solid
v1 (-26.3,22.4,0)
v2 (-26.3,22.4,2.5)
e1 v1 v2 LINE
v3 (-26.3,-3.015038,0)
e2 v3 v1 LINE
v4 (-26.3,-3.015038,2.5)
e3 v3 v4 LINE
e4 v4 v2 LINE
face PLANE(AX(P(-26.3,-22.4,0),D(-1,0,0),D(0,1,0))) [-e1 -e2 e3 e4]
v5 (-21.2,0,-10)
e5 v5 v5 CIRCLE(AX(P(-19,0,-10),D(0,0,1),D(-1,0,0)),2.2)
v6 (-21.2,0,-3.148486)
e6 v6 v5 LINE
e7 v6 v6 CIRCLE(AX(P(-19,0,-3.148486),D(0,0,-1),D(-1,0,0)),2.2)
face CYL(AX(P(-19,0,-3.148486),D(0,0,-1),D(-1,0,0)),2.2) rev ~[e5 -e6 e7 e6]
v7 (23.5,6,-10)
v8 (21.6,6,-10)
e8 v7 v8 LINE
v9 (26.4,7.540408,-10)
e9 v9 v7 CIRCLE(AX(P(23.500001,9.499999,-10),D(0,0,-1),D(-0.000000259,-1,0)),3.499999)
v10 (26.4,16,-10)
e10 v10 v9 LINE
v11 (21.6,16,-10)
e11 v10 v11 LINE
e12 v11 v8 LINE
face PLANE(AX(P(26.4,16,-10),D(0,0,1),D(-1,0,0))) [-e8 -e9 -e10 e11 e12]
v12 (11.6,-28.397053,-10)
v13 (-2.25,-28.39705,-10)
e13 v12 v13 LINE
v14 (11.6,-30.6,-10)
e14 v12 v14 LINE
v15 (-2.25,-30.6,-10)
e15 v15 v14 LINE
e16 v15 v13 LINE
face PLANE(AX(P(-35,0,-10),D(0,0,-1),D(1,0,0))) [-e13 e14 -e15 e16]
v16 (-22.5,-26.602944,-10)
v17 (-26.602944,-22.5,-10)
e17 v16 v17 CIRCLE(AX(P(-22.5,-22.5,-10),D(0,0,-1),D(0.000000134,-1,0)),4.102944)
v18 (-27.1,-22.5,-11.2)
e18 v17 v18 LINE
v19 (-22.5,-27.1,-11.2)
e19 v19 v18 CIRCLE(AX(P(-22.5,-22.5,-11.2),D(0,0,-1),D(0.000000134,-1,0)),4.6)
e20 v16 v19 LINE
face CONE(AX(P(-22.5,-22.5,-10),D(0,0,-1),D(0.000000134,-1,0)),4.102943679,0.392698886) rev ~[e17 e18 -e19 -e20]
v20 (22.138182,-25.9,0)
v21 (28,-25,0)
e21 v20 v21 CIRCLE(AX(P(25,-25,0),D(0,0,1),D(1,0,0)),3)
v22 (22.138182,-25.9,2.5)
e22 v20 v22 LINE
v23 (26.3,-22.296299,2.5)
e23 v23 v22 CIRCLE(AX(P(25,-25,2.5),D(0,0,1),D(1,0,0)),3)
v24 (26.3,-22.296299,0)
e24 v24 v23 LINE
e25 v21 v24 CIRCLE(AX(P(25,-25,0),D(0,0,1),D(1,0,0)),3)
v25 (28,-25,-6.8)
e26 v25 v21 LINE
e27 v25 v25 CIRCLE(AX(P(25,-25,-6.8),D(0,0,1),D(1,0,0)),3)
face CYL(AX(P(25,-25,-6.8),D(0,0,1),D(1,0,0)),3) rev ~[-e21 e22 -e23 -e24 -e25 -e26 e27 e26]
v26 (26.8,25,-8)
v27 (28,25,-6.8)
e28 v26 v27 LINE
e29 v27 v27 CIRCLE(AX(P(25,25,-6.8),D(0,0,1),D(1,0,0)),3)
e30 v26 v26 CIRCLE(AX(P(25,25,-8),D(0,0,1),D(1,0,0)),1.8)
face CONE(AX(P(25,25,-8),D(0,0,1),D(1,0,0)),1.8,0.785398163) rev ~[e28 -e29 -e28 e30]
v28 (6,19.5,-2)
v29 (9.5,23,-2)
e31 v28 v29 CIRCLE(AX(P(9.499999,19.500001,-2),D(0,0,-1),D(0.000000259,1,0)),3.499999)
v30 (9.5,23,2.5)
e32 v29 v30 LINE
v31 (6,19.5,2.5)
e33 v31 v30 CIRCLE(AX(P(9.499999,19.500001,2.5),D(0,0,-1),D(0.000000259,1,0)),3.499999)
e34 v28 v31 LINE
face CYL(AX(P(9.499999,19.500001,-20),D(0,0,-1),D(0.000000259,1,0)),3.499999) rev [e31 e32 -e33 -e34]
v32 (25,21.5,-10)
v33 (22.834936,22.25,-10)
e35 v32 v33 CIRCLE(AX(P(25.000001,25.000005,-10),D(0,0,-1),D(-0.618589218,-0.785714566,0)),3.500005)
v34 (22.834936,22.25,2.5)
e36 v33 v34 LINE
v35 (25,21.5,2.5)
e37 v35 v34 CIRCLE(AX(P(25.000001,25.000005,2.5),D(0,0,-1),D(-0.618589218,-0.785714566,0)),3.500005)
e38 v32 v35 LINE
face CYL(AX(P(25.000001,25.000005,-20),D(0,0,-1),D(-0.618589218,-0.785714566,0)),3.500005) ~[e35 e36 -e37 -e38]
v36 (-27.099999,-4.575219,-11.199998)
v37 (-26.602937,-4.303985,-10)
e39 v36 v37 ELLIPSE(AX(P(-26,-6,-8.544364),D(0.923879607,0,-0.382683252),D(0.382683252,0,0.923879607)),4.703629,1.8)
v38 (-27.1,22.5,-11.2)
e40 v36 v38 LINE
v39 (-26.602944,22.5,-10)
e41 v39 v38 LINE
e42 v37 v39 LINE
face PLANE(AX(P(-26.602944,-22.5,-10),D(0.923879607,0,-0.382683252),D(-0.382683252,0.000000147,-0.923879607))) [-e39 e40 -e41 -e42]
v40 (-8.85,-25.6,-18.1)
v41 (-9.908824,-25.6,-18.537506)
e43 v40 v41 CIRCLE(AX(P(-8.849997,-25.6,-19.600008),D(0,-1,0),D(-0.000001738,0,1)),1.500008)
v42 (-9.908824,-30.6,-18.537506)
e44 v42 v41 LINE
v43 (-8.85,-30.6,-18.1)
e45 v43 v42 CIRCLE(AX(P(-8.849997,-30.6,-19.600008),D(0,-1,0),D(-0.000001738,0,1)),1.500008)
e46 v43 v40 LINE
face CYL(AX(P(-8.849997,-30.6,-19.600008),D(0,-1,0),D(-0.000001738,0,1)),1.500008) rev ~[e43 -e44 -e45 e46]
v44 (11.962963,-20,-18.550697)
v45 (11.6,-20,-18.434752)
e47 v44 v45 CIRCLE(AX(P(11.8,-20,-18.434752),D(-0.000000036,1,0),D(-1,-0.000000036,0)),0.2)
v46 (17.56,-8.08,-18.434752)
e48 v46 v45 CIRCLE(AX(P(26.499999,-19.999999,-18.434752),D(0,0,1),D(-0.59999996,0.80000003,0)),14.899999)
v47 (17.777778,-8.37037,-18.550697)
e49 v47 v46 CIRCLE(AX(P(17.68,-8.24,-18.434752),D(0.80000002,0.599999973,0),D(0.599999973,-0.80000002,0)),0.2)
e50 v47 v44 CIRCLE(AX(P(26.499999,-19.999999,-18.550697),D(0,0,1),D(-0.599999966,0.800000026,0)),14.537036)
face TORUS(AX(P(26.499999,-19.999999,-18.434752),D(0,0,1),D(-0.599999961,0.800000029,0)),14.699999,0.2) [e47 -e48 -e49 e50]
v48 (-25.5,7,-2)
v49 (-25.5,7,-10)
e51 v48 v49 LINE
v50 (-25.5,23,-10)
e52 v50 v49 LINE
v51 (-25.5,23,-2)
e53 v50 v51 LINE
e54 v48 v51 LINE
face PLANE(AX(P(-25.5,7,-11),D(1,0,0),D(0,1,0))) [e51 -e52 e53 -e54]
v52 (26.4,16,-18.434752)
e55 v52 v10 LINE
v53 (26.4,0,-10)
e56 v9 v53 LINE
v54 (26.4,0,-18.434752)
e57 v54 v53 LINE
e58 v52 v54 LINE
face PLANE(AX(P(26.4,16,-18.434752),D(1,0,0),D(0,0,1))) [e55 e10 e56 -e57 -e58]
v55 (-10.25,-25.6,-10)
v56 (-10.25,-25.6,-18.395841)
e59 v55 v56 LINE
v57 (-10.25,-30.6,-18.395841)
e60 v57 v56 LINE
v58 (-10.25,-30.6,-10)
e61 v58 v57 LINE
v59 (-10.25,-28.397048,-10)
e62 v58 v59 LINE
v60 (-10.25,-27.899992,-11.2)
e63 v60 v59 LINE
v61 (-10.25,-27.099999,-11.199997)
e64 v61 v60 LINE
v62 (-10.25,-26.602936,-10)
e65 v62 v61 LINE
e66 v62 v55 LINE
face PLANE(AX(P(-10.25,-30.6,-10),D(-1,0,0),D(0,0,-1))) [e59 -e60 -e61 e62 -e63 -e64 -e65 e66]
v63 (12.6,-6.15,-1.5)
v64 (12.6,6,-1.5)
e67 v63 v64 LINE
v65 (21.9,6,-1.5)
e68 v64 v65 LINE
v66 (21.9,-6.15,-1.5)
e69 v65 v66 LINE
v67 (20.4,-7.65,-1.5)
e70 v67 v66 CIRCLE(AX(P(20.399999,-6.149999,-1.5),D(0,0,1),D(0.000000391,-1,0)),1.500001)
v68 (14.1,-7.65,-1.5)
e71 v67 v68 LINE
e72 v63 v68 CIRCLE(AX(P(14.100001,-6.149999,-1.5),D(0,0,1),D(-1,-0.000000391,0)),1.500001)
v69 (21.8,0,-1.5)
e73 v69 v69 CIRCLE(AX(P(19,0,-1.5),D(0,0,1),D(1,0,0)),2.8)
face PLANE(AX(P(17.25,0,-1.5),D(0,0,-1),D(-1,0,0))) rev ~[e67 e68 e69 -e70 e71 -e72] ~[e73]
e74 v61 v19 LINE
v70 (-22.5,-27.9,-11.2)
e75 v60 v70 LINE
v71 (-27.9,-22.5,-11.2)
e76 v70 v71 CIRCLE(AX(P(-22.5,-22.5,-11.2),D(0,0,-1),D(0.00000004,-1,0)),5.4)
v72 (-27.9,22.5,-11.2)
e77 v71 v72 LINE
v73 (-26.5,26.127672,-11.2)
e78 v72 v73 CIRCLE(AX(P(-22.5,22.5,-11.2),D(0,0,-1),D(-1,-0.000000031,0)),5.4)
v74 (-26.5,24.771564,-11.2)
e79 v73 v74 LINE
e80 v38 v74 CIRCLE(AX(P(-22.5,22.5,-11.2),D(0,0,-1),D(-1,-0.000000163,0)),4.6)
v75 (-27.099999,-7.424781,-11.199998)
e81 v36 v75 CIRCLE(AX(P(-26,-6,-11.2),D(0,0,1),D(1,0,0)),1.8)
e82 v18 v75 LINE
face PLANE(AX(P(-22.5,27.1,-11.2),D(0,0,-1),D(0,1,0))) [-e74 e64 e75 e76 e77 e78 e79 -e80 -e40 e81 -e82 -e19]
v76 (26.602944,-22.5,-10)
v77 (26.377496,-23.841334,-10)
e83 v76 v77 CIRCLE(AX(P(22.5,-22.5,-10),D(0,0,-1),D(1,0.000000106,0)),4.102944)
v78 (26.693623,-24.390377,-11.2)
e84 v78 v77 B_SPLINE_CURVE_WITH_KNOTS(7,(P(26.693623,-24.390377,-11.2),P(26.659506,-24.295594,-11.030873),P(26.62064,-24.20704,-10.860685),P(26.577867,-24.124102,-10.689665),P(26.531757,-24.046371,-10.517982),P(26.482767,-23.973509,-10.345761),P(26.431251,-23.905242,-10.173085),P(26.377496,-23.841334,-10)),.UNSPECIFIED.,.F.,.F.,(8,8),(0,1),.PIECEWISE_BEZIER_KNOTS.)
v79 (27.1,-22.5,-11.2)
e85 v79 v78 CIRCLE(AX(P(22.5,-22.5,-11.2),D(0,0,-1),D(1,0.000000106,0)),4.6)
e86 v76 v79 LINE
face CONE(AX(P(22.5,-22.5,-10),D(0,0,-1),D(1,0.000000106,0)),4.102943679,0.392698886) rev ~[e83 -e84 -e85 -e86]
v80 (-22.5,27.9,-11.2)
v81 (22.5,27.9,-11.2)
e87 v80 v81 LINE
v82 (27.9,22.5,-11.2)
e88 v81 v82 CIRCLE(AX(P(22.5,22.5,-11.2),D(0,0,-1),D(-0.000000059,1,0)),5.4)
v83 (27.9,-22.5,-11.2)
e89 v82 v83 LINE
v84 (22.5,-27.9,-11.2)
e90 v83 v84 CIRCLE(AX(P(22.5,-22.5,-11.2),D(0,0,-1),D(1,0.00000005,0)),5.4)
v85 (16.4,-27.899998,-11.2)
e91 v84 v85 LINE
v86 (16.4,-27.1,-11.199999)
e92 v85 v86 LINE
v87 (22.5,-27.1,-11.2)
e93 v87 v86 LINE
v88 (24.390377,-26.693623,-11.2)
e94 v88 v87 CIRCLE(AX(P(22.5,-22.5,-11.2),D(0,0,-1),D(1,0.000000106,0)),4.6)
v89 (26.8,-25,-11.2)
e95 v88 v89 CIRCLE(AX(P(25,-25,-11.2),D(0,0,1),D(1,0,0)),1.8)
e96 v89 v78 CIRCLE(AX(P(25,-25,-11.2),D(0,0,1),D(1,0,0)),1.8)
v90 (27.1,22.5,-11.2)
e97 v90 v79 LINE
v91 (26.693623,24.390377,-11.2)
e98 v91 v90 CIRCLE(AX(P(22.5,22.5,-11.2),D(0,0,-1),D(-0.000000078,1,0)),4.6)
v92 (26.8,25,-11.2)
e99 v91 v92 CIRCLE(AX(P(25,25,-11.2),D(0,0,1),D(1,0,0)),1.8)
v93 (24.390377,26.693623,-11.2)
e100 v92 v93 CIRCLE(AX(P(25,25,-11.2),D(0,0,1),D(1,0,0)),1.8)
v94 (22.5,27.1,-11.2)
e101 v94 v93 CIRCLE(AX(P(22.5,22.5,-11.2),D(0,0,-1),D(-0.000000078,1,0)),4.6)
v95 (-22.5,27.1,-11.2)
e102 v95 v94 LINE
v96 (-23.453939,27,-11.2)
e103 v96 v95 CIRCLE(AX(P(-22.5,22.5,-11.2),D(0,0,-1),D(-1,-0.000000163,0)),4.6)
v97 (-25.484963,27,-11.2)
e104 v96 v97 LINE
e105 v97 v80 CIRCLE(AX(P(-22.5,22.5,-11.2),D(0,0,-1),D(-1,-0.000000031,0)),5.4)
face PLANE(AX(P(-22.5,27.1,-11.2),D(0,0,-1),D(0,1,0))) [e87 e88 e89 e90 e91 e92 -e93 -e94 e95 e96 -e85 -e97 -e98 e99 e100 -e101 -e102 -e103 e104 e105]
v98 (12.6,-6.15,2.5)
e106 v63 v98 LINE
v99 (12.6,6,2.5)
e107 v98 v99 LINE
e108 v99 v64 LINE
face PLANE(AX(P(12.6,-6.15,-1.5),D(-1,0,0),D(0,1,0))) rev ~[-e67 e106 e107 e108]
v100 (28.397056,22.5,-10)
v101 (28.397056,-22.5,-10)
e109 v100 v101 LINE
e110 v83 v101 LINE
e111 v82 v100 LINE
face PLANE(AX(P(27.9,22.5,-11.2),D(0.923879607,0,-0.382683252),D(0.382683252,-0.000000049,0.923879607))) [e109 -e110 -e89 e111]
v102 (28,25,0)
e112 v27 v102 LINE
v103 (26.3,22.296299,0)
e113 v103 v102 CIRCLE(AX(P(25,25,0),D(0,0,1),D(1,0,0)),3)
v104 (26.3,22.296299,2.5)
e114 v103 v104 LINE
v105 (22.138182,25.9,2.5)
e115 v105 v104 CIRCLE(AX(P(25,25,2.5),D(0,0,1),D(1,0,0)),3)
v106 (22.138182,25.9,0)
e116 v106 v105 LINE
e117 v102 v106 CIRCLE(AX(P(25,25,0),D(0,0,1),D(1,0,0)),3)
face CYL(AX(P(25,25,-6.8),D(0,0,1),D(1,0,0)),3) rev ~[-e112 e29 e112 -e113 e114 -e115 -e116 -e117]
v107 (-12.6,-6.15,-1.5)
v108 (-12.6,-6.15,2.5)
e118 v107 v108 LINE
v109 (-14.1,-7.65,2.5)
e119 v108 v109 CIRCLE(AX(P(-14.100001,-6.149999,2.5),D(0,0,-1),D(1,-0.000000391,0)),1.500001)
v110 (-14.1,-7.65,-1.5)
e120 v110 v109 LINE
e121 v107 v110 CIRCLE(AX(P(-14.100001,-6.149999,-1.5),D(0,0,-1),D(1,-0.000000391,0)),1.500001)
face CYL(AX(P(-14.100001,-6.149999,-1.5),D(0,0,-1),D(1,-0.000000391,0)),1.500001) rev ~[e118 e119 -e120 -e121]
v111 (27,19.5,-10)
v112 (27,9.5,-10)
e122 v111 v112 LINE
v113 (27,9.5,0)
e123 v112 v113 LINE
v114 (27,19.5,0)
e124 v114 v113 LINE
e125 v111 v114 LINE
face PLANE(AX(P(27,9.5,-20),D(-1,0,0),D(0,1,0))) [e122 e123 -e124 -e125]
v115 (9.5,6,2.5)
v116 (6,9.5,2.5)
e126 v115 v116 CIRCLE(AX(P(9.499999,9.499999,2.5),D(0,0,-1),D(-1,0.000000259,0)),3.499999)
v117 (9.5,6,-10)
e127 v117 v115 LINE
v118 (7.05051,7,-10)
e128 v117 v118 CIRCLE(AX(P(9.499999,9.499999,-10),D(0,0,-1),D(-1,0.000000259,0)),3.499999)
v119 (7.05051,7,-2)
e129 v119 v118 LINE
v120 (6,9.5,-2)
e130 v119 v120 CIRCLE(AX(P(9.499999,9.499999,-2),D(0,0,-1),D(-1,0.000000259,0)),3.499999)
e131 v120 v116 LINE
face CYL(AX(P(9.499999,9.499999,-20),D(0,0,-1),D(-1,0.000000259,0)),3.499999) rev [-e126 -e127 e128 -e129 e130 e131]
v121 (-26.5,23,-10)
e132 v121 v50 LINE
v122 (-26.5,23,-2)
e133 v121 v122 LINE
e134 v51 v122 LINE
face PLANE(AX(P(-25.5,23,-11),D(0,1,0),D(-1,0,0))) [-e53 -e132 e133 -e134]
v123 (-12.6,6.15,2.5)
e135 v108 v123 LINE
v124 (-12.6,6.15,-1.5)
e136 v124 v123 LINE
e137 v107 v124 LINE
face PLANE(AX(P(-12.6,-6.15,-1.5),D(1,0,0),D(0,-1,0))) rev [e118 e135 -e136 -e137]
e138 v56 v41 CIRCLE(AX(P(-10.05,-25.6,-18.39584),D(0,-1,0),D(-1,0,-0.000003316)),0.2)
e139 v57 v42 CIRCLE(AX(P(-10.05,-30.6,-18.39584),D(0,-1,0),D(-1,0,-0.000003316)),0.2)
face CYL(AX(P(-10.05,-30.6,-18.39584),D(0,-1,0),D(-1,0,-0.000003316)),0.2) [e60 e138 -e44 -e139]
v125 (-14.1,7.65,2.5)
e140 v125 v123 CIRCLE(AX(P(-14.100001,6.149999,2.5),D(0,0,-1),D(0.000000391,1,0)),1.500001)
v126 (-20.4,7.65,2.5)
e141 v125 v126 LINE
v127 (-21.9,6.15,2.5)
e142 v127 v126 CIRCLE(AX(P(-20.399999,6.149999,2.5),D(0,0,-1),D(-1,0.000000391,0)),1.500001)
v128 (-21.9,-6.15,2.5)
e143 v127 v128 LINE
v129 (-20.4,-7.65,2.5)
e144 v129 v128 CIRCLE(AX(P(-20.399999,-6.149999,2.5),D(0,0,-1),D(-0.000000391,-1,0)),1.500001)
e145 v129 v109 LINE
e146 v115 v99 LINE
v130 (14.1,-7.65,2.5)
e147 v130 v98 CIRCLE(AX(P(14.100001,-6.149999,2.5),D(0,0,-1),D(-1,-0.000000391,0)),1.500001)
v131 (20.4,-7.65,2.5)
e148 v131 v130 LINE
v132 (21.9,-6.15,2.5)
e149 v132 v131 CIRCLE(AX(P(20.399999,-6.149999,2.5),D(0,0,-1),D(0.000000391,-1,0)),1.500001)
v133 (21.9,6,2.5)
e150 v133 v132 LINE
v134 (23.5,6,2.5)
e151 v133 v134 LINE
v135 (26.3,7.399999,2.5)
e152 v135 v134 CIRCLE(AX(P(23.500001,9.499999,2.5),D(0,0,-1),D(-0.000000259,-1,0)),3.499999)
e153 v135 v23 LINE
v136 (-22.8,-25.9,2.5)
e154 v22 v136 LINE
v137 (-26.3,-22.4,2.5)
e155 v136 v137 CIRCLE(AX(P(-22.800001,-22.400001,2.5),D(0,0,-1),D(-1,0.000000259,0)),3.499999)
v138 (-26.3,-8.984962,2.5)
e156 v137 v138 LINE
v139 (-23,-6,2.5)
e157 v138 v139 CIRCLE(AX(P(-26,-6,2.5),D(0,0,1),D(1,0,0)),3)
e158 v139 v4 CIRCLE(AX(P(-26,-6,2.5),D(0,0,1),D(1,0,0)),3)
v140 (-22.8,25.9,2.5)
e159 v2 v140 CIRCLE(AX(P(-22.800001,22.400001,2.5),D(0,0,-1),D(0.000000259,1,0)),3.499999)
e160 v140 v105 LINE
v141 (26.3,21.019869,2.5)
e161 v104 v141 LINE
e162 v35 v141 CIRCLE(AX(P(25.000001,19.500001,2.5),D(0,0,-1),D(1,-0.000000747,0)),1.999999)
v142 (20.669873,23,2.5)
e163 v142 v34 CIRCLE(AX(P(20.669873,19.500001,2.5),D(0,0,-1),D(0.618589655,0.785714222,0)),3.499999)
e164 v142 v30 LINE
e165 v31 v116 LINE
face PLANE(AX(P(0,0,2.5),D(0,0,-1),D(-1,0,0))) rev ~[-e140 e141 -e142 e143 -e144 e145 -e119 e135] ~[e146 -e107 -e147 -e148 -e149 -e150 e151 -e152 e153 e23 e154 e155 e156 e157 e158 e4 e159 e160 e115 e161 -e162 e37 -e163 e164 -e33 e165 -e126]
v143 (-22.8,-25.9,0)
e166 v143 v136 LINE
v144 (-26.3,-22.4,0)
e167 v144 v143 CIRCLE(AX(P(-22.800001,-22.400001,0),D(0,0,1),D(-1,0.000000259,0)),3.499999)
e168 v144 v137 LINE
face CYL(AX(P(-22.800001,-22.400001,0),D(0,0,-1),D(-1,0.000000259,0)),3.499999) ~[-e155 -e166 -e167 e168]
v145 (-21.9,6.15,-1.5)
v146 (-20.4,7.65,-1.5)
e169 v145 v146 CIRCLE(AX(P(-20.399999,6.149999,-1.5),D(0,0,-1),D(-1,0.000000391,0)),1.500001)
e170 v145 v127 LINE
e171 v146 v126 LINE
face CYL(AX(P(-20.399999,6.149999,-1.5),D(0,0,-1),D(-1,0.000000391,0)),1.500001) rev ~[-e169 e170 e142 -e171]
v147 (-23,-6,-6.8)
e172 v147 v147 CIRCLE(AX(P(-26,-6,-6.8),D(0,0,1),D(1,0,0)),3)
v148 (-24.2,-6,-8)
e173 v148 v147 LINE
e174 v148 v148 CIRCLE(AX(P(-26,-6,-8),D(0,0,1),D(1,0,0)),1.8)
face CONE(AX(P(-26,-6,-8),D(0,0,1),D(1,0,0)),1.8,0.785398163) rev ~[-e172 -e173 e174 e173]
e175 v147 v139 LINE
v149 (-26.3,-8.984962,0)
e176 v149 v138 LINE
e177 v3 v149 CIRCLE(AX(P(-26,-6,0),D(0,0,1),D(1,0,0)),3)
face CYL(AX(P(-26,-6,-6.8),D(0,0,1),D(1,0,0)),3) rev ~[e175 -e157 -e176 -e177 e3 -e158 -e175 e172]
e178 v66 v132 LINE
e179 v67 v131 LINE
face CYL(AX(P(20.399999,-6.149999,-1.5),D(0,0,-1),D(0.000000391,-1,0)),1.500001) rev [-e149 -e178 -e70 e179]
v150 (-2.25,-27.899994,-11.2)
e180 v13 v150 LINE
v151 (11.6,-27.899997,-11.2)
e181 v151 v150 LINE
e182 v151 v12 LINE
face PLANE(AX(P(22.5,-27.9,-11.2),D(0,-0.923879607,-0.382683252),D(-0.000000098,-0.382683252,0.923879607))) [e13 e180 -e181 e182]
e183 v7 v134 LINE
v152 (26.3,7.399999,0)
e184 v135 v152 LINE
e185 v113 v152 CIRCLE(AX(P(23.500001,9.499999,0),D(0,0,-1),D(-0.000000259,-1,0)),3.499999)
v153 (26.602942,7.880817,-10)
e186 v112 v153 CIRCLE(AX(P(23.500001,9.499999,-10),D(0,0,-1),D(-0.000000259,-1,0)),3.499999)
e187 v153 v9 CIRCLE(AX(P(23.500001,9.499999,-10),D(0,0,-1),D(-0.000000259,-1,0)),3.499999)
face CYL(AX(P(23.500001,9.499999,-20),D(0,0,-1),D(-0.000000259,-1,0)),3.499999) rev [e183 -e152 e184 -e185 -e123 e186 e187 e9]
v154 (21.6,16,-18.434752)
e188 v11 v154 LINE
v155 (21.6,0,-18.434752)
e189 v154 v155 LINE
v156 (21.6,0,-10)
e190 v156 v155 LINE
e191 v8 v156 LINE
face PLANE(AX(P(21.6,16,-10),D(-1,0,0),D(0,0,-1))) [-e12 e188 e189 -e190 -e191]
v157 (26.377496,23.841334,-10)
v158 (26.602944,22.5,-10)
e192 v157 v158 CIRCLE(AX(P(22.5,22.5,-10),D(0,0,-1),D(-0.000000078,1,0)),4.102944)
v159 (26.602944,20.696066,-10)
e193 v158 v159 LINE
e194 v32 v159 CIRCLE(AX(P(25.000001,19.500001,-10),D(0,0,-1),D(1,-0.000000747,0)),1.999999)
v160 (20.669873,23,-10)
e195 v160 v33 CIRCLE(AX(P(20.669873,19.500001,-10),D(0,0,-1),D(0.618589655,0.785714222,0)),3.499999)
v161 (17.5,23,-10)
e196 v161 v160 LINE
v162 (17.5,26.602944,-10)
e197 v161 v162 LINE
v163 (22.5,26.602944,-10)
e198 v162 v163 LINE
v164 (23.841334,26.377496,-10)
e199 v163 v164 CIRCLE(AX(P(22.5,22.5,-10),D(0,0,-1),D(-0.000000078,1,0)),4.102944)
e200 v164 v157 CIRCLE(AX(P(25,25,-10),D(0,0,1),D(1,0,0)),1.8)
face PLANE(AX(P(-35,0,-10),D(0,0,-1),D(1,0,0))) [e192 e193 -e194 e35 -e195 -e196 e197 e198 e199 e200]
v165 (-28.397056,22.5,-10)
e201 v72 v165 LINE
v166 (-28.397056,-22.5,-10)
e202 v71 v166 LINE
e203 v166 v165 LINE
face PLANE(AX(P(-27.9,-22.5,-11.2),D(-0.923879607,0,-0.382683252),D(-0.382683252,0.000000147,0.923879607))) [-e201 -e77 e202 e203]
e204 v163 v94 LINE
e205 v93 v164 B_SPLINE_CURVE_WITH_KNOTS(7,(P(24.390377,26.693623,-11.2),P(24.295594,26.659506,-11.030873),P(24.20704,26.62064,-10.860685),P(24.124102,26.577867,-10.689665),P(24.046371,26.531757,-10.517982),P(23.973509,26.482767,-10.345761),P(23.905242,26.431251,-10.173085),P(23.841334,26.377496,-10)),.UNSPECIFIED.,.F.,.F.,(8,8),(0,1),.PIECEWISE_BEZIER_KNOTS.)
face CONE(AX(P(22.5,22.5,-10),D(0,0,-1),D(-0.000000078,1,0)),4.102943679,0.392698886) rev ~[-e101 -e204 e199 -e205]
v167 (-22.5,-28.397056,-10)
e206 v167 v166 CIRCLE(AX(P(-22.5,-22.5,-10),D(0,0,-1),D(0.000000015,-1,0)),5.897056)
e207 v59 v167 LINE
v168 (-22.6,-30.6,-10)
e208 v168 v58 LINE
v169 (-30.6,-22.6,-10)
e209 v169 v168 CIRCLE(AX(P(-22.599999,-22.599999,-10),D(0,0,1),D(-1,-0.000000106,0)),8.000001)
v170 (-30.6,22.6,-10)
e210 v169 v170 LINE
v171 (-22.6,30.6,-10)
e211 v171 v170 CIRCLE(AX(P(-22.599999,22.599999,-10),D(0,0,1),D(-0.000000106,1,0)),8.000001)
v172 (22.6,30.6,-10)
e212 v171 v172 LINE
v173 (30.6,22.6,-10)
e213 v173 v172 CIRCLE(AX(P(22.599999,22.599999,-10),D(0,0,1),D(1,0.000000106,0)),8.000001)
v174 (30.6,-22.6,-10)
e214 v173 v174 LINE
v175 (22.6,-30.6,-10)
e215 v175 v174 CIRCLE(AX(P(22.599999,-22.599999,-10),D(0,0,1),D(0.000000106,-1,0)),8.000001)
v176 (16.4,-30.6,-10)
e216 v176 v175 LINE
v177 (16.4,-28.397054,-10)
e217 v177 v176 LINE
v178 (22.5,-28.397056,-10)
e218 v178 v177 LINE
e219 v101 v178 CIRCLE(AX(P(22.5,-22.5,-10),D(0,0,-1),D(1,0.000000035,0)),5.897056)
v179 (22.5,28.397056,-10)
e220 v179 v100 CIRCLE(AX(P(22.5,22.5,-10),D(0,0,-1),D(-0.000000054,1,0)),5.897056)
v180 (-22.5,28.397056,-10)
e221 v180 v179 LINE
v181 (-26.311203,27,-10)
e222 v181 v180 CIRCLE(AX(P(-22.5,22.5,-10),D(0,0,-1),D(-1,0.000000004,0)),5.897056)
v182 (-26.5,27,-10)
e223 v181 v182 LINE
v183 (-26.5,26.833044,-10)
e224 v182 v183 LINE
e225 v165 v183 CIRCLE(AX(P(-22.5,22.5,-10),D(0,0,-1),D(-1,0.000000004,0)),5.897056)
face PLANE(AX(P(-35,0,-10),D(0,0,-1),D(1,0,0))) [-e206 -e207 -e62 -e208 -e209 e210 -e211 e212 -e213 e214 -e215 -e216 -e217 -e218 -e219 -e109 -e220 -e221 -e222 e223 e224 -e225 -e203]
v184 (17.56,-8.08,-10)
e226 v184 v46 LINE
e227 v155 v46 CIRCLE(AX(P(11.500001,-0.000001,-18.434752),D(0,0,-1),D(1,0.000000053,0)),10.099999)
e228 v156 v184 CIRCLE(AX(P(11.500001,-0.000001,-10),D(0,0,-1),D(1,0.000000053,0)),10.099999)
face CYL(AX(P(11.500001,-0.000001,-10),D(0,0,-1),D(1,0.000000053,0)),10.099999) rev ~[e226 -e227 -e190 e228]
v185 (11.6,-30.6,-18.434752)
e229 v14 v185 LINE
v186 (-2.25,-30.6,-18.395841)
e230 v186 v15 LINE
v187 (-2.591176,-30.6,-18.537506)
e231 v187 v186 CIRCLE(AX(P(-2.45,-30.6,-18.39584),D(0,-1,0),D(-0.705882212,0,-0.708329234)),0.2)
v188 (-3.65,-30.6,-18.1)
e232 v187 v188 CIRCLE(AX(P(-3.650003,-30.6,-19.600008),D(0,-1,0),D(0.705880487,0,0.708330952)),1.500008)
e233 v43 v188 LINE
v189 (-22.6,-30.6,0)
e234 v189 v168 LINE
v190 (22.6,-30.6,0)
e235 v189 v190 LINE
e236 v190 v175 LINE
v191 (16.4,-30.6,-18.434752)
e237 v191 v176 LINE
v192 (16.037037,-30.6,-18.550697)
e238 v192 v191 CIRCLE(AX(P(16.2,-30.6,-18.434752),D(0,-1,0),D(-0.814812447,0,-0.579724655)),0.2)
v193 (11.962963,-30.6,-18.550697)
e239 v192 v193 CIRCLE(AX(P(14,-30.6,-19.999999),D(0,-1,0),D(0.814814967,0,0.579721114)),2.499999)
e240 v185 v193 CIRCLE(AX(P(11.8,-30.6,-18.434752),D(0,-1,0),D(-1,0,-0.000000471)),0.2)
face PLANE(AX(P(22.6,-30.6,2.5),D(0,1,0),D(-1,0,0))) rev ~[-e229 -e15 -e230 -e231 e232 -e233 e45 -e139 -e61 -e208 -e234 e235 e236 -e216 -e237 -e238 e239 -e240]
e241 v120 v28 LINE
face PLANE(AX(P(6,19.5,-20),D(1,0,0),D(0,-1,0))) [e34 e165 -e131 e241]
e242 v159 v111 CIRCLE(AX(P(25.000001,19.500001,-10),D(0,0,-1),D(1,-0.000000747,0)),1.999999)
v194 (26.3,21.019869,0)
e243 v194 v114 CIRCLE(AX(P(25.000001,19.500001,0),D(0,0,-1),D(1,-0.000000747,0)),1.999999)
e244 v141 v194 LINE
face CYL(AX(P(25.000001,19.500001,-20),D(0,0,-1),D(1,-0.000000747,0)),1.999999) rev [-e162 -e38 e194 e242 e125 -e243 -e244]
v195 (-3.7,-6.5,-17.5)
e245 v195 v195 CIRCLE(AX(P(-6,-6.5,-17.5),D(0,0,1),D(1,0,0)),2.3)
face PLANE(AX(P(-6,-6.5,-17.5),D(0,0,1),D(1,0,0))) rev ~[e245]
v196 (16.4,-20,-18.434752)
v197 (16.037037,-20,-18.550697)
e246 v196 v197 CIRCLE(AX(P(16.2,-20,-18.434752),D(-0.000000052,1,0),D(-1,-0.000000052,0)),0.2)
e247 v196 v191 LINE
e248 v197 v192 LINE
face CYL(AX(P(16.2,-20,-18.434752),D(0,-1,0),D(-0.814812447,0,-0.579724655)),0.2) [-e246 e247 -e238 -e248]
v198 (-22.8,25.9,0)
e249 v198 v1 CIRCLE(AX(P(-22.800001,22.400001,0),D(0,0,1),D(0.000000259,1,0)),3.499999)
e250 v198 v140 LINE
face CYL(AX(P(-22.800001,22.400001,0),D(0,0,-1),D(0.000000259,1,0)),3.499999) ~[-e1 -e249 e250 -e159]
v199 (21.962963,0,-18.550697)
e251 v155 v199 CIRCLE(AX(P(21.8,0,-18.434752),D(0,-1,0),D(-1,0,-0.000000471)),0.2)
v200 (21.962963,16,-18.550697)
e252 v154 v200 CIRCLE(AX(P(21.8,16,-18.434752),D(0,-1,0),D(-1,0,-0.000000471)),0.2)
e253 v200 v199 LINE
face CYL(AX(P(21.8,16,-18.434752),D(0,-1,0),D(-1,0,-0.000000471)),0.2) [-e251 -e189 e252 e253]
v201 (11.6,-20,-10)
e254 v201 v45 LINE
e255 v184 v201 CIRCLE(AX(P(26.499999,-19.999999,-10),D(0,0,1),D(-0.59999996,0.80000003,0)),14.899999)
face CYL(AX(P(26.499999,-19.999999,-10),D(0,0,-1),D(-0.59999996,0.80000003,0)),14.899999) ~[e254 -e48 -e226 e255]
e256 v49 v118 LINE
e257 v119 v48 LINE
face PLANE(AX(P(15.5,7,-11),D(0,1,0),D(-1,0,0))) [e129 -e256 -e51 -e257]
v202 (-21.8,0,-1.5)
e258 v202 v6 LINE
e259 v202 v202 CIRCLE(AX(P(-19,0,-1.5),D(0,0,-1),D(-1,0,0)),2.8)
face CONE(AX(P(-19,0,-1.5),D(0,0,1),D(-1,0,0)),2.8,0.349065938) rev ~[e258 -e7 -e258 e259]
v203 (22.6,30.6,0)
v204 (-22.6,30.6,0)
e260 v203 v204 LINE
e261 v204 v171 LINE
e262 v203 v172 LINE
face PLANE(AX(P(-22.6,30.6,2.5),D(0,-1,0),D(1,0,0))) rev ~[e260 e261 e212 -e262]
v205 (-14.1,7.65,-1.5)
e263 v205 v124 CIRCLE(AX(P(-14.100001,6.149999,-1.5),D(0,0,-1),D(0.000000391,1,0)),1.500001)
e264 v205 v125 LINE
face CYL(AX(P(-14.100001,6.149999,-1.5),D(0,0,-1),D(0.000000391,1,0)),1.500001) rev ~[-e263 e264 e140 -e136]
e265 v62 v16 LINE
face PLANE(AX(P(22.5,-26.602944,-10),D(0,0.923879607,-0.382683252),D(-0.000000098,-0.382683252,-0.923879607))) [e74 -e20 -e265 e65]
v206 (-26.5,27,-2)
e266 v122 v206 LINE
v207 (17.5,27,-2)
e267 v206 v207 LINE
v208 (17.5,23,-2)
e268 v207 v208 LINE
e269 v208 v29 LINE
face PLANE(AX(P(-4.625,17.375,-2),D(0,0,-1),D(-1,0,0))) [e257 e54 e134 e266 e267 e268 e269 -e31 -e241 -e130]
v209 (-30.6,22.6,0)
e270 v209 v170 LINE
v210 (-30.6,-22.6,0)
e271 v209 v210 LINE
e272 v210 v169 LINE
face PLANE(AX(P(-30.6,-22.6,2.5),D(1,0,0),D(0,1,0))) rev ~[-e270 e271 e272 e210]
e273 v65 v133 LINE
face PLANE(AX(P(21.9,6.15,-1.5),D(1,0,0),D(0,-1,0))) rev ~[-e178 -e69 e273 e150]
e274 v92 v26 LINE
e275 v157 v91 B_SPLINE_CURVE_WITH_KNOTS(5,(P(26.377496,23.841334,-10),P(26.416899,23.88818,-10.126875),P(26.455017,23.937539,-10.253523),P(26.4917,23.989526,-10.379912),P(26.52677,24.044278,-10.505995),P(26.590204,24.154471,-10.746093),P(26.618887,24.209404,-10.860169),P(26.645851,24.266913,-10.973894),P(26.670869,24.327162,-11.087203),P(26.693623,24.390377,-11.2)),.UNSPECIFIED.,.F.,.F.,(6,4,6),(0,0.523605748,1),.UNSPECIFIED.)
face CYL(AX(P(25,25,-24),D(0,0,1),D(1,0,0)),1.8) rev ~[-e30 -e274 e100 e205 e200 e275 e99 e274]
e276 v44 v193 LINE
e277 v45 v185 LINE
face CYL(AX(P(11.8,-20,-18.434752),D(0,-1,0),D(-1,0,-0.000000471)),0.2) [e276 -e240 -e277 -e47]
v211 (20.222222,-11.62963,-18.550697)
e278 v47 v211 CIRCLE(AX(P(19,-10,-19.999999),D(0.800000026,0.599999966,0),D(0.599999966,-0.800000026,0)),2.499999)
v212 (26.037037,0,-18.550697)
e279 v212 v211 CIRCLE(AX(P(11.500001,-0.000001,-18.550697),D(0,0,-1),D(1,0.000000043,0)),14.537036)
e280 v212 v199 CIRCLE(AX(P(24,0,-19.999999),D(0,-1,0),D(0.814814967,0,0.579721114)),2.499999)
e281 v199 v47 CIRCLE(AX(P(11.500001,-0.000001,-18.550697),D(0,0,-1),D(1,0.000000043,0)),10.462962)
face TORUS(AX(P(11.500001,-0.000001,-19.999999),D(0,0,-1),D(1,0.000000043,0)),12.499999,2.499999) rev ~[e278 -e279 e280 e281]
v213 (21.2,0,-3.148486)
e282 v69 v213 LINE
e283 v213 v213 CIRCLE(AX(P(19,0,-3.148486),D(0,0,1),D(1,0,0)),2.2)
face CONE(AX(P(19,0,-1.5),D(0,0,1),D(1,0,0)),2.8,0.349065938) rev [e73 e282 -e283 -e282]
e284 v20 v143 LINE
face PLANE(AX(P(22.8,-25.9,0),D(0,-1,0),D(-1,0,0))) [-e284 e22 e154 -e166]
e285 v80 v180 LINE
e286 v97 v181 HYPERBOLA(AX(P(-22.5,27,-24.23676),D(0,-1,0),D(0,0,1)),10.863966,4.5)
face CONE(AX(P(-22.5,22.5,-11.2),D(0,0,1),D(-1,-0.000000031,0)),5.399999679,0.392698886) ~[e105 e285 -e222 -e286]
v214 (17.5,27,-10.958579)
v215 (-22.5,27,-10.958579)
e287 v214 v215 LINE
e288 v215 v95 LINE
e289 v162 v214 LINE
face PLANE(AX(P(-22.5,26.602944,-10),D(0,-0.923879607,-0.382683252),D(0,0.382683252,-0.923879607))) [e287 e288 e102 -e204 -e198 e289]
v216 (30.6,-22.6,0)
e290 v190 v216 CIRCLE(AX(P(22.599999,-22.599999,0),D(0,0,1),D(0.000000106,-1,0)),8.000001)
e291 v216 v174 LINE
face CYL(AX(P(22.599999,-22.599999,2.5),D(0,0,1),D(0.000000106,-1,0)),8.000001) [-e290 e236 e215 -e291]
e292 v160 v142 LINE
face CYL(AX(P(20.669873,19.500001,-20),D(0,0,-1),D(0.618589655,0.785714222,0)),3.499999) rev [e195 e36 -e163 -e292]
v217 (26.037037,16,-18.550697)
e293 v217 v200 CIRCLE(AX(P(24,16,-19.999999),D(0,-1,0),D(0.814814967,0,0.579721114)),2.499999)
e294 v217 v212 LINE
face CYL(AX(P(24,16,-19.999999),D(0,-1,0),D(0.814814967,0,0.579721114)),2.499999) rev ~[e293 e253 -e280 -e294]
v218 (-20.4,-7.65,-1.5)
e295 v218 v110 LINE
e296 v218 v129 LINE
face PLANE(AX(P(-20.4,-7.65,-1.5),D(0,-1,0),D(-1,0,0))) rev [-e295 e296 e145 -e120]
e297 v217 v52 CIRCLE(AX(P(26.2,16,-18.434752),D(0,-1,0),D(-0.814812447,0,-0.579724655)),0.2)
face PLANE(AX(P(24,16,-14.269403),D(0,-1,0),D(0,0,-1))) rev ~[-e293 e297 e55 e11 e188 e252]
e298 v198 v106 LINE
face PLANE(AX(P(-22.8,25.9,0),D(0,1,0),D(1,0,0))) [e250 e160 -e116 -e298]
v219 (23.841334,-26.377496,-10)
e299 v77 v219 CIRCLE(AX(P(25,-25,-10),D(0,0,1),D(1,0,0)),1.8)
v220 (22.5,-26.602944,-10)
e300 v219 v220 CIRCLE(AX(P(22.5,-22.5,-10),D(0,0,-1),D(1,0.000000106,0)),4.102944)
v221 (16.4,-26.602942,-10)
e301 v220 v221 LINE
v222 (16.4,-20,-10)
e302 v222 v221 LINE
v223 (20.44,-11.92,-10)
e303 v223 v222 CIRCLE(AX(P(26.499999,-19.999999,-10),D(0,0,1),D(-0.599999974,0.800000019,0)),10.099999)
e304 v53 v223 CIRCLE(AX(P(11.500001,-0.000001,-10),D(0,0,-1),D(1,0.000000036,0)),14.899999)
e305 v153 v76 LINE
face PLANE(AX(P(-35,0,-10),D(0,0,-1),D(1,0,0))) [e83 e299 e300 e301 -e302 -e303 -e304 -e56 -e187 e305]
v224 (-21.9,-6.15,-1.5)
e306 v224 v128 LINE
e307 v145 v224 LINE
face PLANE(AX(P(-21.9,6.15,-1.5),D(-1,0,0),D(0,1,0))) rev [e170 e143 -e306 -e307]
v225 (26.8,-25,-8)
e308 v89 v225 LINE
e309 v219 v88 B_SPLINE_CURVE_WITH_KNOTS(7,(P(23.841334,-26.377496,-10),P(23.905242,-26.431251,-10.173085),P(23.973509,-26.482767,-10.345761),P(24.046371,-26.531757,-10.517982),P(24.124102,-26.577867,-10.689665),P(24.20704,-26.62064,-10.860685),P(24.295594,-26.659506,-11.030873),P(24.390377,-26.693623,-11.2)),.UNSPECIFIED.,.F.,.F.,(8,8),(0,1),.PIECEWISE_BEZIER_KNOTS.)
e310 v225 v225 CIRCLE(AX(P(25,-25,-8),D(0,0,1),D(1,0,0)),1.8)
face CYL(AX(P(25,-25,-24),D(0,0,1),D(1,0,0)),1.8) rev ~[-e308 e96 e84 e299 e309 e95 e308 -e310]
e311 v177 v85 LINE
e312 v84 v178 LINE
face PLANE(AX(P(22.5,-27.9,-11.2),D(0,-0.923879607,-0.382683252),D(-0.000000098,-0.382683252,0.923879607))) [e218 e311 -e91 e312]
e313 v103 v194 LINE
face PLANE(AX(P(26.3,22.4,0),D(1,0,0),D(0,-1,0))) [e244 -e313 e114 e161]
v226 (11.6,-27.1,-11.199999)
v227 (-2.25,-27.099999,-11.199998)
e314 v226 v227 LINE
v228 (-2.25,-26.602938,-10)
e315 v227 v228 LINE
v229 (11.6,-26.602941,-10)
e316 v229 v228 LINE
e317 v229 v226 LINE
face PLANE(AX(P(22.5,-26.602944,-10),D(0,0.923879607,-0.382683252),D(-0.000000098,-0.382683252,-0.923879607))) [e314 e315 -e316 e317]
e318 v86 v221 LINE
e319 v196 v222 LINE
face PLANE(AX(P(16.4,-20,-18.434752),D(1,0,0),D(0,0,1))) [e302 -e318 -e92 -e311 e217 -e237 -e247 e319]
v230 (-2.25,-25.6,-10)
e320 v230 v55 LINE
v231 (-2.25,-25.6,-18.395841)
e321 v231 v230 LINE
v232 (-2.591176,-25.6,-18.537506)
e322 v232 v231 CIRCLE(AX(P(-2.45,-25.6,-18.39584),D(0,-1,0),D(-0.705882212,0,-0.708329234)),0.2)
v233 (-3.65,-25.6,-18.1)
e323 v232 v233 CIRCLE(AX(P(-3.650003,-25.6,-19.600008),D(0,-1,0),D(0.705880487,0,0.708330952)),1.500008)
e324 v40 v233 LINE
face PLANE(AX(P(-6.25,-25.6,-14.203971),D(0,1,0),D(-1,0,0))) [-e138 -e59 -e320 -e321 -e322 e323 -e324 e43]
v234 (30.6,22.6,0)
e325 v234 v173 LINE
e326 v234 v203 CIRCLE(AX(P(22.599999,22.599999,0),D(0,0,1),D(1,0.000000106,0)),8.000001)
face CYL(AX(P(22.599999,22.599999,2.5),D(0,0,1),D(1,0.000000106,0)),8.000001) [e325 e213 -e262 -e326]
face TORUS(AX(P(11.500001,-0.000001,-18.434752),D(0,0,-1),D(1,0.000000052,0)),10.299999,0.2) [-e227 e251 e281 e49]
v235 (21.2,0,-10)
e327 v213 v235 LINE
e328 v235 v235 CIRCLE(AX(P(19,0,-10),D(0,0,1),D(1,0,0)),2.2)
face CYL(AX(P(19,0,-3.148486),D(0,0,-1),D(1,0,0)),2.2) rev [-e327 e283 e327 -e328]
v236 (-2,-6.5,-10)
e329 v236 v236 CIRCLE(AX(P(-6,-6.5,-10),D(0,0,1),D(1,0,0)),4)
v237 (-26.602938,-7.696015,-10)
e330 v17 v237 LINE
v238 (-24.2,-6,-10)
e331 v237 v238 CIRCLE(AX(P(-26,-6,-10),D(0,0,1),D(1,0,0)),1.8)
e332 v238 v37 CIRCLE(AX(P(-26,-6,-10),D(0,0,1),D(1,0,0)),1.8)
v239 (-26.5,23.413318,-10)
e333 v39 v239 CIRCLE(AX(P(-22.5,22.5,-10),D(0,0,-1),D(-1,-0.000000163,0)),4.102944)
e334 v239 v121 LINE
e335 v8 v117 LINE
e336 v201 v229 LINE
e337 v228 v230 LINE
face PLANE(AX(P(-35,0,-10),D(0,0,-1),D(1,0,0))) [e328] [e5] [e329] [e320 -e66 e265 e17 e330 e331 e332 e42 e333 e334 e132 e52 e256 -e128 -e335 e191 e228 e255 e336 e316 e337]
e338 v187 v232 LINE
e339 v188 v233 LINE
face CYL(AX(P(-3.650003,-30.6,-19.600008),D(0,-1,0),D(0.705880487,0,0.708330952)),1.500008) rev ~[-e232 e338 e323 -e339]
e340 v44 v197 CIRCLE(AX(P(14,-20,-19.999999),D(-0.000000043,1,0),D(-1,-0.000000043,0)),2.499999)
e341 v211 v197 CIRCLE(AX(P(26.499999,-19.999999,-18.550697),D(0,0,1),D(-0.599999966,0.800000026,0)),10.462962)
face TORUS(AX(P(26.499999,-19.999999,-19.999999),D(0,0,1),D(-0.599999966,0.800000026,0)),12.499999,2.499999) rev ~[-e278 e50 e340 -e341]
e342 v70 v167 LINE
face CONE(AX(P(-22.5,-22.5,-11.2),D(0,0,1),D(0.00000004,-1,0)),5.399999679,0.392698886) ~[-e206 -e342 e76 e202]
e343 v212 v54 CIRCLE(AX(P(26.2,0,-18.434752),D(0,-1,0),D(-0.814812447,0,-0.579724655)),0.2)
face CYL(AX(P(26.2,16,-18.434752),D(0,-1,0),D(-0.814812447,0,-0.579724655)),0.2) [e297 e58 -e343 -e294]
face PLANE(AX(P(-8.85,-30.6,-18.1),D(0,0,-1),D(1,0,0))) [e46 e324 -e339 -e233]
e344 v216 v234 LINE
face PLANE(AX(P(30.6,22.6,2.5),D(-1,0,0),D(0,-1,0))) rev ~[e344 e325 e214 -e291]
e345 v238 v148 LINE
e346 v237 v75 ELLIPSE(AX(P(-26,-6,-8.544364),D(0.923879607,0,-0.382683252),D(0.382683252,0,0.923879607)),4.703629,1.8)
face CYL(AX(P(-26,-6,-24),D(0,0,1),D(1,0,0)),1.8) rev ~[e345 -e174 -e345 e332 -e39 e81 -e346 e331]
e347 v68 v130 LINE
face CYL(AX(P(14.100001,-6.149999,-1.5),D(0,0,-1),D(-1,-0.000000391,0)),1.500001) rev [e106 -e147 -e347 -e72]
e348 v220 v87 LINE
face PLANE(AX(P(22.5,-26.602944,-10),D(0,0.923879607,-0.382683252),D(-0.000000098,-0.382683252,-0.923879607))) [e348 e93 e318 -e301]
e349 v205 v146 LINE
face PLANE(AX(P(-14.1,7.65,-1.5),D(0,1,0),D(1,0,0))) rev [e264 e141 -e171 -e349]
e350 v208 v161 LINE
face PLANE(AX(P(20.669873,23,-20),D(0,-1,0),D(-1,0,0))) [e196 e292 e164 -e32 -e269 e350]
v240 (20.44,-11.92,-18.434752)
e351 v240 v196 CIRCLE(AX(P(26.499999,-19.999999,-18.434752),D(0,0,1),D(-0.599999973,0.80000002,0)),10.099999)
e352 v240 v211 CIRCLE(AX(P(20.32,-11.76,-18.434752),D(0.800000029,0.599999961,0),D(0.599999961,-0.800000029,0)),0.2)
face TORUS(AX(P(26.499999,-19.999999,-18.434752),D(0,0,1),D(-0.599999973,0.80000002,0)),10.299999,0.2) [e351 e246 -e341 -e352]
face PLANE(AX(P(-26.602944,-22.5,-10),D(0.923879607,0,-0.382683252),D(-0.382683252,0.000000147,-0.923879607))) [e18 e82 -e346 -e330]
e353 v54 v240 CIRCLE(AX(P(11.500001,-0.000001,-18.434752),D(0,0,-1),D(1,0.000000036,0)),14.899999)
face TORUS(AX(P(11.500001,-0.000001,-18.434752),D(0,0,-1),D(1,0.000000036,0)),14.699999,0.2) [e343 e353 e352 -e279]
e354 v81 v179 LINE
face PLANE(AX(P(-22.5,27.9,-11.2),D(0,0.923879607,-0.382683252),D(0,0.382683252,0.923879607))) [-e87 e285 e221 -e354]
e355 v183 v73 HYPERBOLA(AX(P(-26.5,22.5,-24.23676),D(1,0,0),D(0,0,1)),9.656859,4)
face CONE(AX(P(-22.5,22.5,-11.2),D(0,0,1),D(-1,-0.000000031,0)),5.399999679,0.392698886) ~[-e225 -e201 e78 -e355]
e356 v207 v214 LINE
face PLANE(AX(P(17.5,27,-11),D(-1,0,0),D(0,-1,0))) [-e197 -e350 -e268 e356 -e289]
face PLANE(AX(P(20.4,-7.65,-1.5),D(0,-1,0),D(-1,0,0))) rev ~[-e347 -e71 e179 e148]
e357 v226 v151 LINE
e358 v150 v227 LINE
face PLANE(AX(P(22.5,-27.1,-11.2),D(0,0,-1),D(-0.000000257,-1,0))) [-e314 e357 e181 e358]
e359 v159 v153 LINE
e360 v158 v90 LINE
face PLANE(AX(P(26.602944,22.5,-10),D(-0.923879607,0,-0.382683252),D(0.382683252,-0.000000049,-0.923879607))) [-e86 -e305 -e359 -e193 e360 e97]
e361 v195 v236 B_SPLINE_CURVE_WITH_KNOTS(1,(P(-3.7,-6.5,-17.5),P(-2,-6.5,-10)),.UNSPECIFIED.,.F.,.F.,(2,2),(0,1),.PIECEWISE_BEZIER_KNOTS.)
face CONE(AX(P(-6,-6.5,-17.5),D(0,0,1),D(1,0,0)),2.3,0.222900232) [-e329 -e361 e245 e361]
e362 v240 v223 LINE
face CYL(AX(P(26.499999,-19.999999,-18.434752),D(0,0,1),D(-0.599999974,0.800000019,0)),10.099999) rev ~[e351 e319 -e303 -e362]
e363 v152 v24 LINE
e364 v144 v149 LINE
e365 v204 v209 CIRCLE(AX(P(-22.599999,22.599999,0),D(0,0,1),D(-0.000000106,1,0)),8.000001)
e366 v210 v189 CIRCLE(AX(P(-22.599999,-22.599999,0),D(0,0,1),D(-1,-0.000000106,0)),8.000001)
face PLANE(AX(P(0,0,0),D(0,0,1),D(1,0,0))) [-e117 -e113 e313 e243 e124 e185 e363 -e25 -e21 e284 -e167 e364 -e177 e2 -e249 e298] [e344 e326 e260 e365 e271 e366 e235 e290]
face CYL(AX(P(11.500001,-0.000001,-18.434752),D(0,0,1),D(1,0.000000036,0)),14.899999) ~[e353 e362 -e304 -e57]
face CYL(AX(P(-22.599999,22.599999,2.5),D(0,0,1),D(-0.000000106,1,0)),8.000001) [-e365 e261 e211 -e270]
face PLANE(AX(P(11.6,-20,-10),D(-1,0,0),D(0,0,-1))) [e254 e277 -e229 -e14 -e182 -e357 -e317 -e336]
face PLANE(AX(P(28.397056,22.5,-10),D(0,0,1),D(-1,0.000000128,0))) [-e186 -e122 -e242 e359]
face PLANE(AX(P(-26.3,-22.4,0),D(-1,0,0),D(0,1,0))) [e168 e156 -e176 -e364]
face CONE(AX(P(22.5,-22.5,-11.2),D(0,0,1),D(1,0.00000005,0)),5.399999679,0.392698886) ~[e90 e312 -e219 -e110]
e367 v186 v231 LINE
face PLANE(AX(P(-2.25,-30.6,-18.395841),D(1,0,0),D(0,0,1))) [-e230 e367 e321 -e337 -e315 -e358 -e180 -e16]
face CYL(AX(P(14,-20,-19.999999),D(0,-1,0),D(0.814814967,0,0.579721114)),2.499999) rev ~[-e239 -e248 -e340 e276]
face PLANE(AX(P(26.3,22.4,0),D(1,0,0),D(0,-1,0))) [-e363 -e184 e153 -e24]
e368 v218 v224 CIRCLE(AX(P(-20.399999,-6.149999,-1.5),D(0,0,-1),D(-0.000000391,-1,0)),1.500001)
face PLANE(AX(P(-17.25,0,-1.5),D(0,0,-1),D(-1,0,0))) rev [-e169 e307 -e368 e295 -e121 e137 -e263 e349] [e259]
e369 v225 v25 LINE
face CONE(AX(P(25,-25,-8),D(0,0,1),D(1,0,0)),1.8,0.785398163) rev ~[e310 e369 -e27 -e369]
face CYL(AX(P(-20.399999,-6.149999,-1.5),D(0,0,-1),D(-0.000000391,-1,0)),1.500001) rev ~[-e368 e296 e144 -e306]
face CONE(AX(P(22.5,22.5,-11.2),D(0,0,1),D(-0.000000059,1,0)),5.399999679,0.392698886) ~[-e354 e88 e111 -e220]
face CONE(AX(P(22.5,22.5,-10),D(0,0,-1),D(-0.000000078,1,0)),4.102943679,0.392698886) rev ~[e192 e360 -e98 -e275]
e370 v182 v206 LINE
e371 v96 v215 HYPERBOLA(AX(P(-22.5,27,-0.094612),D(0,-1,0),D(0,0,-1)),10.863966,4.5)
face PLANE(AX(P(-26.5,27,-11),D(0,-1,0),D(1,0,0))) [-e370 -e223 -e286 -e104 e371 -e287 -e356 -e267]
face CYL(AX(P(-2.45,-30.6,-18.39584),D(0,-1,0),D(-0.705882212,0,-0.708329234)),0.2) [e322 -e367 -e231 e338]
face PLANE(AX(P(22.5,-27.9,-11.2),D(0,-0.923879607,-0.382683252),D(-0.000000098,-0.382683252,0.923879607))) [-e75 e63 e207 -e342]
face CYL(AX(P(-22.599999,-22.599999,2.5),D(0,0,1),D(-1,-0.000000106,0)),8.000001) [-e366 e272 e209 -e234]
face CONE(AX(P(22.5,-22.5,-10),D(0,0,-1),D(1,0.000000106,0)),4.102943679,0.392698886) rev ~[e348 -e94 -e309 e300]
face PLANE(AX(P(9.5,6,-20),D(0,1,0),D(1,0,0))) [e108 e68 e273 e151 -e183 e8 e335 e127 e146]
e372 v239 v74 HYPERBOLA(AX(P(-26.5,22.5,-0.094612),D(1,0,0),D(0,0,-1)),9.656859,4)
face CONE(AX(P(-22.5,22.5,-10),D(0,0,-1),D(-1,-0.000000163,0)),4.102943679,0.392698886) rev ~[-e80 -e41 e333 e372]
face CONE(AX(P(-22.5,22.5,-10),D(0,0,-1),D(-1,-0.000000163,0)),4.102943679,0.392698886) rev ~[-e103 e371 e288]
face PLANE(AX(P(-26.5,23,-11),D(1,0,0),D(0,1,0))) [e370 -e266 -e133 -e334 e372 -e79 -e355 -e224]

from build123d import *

# Parameters (mm, degrees)
PAD016_DEPTH         = 27.5
POCKET034_DEPTH      = 185.628421
SKETCH105_W          = 70
SKETCH105_H          = 70
POCKET036_DEPTH      = 2.501
POCKET050_DEPTH      = 22.501
SKETCH114_W          = 70
SKETCH114_H          = 16
POCKET051_DEPTH      = 30.601
POCKET051_DEPTH_BACK = 30.601
PAD020_DEPTH         = 5
SKETCH134_R          = 2.3
SKETCH135_R          = 4
POCKET052_DEPTH      = 9


with BuildPart() as part:
    # Sketch096 → Pad016 (new body)
    with BuildSketch(Plane.XY.offset(2.5)):
        with BuildLine():
            Line((-22.6, 30.6), (22.6, 30.6))
            ThreePointArc((30.6, 22.6), (28.256854, 28.256854), (22.6, 30.6))
            Line((30.6, 22.6), (30.6, -22.6))
            ThreePointArc((22.6, -30.6), (28.256854, -28.256854), (30.6, -22.6))
            Line((22.6, -30.6), (-22.6, -30.6))
            ThreePointArc((-30.6, -22.6), (-28.256854, -28.256854), (-22.6, -30.6))
            Line((-30.6, -22.6), (-30.6, 22.6))
            ThreePointArc((-22.6, 30.6), (-28.256854, 28.256854), (-30.6, 22.6))
        make_face()
    extrude(amount=-PAD016_DEPTH)

    # Sketch103 → Pocket034 (cut, through all)
    with BuildSketch(Plane.XY.offset(-1.5)):
        with BuildLine():
            Line((14.1, 7.65), (20.4, 7.65))
            ThreePointArc((21.9, 6.15), (21.46066, 7.21066), (20.4, 7.65))
            Line((21.9, 6.15), (21.9, -6.15))
            ThreePointArc((20.4, -7.65), (21.46066, -7.21066), (21.9, -6.15))
            Line((20.4, -7.65), (14.1, -7.65))
            ThreePointArc((12.6, -6.15), (13.03934, -7.21066), (14.1, -7.65))
            Line((12.6, -6.15), (12.6, 6.15))
            ThreePointArc((14.1, 7.65), (13.03934, 7.21066), (12.6, 6.15))
        make_face()
    pocket034 = extrude(amount=POCKET034_DEPTH, mode=Mode.SUBTRACT)

    # Mirrored008: Pocket034 across YZ
    add(pocket034.mirror(Plane.YZ), mode=Mode.SUBTRACT)

    # Sketch105 → Pocket036 (cut, through all)
    with BuildSketch(Plane.XY):
        Rectangle(SKETCH105_W, SKETCH105_H)
        with BuildLine():
            Line((-22.8, 25.9), (22.8, 25.9))
            ThreePointArc((26.3, 22.4), (25.274874, 24.874874), (22.8, 25.9))
            Line((26.3, 22.4), (26.3, -22.4))
            ThreePointArc((22.8, -25.9), (25.274874, -24.874874), (26.3, -22.4))
            Line((22.8, -25.9), (-22.8, -25.9))
            ThreePointArc((-26.3, -22.4), (-25.274874, -24.874874), (-22.8, -25.9))
            Line((-26.3, -22.4), (-26.3, 22.4))
            ThreePointArc((-22.8, 25.9), (-25.274874, 24.874874), (-26.3, 22.4))
        make_face(mode=Mode.SUBTRACT)
    extrude(amount=POCKET036_DEPTH, mode=Mode.SUBTRACT)

    # Sketch107 → Groove012 (revolve, cut)
    with BuildSketch(Plane.XZ):
        Polygon((19, -1.5), (21.8, -1.5), (21.2, -3.148486), (21.2, -13.5), (19, -13.5), align=None)
    groove012 = revolve(axis=Axis((19, 0, -1.5), (0, 0, 1)), mode=Mode.SUBTRACT)

    # Mirrored009: Groove012 across YZ
    add(groove012.mirror(Plane.YZ), mode=Mode.SUBTRACT)

    # Sketch113 → Pocket050 (cut, through all)
    with BuildSketch(Plane.XY.offset(-20)):
        with BuildLine():
            ThreePointArc((22.834936, 22.25), (23.854356, 21.692811), (25, 21.5))
            ThreePointArc((27, 19.5), (26.414214, 20.914214), (25, 21.5))
            Line((27, 9.5), (27, 19.5))
            ThreePointArc((23.5, 6), (25.974874, 7.025126), (27, 9.5))
            Line((9.5, 6), (23.5, 6))
            ThreePointArc((6, 9.5), (7.025126, 7.025126), (9.5, 6))
            Line((6, 19.5), (6, 9.5))
            ThreePointArc((9.5, 23), (7.025126, 21.974874), (6, 19.5))
            Line((20.669873, 23), (9.5, 23))
            ThreePointArc((22.834936, 22.25), (21.815517, 22.807189), (20.669873, 23))
        make_face()
    extrude(amount=POCKET050_DEPTH, mode=Mode.SUBTRACT)

    # Sketch114 → Pocket051 (cut, two sides)
    with BuildSketch(Plane.XZ) as pocket051_sk:
        with Locations((0, -18)):
            Rectangle(SKETCH114_W, SKETCH114_H)
    extrude(amount=-POCKET051_DEPTH, mode=Mode.SUBTRACT)
    extrude(pocket051_sk.sketch, amount=POCKET051_DEPTH_BACK, mode=Mode.SUBTRACT)

    # AdditivePipe004: sweep along a path in Sketch130
    with BuildLine(Plane.XY) as additivepipe004_path:
        Line((24, 16), (24, 0))
        ThreePointArc((24, 0), (22.68034, -5.59017), (19, -10))
        ThreePointArc((19, -10), (15.31966, -14.40983), (14, -20))
        Line((14, -20), (14, -30.6))
    # Sketch131 → AdditivePipe004 (sweep)
    with BuildSketch(Plane.XZ):
        with BuildLine():
            ThreePointArc((26.037037, -18.550697), (24, -17.5), (21.962963, -18.550697))
            ThreePointArc((21.6, -18.434752), (21.739142, -18.625268), (21.962963, -18.550697))
            Line((21.6, -10), (21.6, -18.434752))
            Line((26.4, -10), (21.6, -10))
            Line((26.4, -18.434752), (26.4, -10))
            ThreePointArc((26.037037, -18.550697), (26.260858, -18.625268), (26.4, -18.434752))
        make_face()
    sweep(path=additivepipe004_path.line)

    # Sketch110 → Pad020 (join)
    with BuildSketch(Plane.XZ.offset(30.6)):
        with BuildLine():
            ThreePointArc((-8.85, -18.1), (-9.422826, -18.213685), (-9.908824, -18.537506))
            ThreePointArc((-10.25, -18.395841), (-10.126696, -18.58055), (-9.908824, -18.537506))
            Line((-10.25, -10), (-10.25, -18.395841))
            Line((-2.25, -10), (-10.25, -10))
            Line((-2.25, -18.395841), (-2.25, -10))
            ThreePointArc((-2.591176, -18.537506), (-2.373304, -18.58055), (-2.25, -18.395841))
            ThreePointArc((-2.591176, -18.537506), (-3.077174, -18.213685), (-3.65, -18.1))
            Line((-8.85, -18.1), (-3.65, -18.1))
        make_face()
    extrude(amount=-PAD020_DEPTH)

    # Sketch134 → AdditiveLoft section 0
    with BuildSketch(Plane.XY.offset(-17.5)):
        with Locations((-6, -6.5)):
            Circle(SKETCH134_R)
    # Sketch135 → AdditiveLoft section 1
    with BuildSketch(Plane.XY.offset(-10)):
        with Locations((-6, -6.5)):
            Circle(SKETCH135_R)
    loft()

    # AdditivePipe005: sweep along a path in Sketch136
    with BuildLine(Plane.XY) as additivepipe005_path:
        Line((-22.5, 27.5), (22.5, 27.5))
        ThreePointArc((22.5, 27.5), (26.035534, 26.035534), (27.5, 22.5))
        Line((27.5, 22.5), (27.5, -22.5))
        ThreePointArc((27.5, -22.5), (26.035534, -26.035534), (22.5, -27.5))
        Line((22.5, -27.5), (-22.5, -27.5))
        ThreePointArc((-22.5, -27.5), (-26.035534, -26.035534), (-27.5, -22.5))
        Line((-27.5, -22.5), (-27.5, 22.5))
        ThreePointArc((-27.5, 22.5), (-26.035534, 26.035534), (-22.5, 27.5))
    # Sketch137 → AdditivePipe005 (sweep)
    with BuildSketch(Plane.YZ):
        Polygon((28.397056, -10), (26.602944, -10), (27.1, -11.2), (27.9, -11.2), align=None)
    sweep(path=additivepipe005_path.line)

    # Sketch104 → Pocket052 (cut, symmetric)
    with BuildSketch(Plane.XY.offset(-11)):
        Polygon((-26.5, 27), (17.5, 27), (17.5, 23), (15.5, 23), (15.5, 7), (-25.5, 7), (-25.5, 23), (-26.5, 23), align=None)
    extrude(amount=POCKET052_DEPTH, both=True, mode=Mode.SUBTRACT)

    # Sketch099 → Groove018 (revolve, cut)
    with BuildSketch(Plane.XZ.offset(6)):
        Polygon((-26, 3), (-26, -24), (-24.2, -24), (-24.2, -8), (-23, -6.8), (-23, 3), align=None)
    revolve(axis=Axis((-26, -6, 3), (0, 0, 1)), mode=Mode.SUBTRACT)

    # Sketch100 → Groove019 (revolve, cut)
    with BuildSketch(Plane.XZ.offset(25)):
        Polygon((25, 3), (25, -24), (26.8, -24), (26.8, -8), (28, -6.8), (28, 3), align=None)
    revolve(axis=Axis((25, -25, 3), (0, 0, 1)), mode=Mode.SUBTRACT)

    # Sketch101 → Groove020 (revolve, cut)
    with BuildSketch(Plane.XZ.offset(-25)):
        Polygon((25, 3), (25, -24), (26.8, -24), (26.8, -8), (28, -6.8), (28, 3), align=None)
    revolve(axis=Axis((25, 25, 3), (0, 0, 1)), mode=Mode.SUBTRACT)


solid = part.part
